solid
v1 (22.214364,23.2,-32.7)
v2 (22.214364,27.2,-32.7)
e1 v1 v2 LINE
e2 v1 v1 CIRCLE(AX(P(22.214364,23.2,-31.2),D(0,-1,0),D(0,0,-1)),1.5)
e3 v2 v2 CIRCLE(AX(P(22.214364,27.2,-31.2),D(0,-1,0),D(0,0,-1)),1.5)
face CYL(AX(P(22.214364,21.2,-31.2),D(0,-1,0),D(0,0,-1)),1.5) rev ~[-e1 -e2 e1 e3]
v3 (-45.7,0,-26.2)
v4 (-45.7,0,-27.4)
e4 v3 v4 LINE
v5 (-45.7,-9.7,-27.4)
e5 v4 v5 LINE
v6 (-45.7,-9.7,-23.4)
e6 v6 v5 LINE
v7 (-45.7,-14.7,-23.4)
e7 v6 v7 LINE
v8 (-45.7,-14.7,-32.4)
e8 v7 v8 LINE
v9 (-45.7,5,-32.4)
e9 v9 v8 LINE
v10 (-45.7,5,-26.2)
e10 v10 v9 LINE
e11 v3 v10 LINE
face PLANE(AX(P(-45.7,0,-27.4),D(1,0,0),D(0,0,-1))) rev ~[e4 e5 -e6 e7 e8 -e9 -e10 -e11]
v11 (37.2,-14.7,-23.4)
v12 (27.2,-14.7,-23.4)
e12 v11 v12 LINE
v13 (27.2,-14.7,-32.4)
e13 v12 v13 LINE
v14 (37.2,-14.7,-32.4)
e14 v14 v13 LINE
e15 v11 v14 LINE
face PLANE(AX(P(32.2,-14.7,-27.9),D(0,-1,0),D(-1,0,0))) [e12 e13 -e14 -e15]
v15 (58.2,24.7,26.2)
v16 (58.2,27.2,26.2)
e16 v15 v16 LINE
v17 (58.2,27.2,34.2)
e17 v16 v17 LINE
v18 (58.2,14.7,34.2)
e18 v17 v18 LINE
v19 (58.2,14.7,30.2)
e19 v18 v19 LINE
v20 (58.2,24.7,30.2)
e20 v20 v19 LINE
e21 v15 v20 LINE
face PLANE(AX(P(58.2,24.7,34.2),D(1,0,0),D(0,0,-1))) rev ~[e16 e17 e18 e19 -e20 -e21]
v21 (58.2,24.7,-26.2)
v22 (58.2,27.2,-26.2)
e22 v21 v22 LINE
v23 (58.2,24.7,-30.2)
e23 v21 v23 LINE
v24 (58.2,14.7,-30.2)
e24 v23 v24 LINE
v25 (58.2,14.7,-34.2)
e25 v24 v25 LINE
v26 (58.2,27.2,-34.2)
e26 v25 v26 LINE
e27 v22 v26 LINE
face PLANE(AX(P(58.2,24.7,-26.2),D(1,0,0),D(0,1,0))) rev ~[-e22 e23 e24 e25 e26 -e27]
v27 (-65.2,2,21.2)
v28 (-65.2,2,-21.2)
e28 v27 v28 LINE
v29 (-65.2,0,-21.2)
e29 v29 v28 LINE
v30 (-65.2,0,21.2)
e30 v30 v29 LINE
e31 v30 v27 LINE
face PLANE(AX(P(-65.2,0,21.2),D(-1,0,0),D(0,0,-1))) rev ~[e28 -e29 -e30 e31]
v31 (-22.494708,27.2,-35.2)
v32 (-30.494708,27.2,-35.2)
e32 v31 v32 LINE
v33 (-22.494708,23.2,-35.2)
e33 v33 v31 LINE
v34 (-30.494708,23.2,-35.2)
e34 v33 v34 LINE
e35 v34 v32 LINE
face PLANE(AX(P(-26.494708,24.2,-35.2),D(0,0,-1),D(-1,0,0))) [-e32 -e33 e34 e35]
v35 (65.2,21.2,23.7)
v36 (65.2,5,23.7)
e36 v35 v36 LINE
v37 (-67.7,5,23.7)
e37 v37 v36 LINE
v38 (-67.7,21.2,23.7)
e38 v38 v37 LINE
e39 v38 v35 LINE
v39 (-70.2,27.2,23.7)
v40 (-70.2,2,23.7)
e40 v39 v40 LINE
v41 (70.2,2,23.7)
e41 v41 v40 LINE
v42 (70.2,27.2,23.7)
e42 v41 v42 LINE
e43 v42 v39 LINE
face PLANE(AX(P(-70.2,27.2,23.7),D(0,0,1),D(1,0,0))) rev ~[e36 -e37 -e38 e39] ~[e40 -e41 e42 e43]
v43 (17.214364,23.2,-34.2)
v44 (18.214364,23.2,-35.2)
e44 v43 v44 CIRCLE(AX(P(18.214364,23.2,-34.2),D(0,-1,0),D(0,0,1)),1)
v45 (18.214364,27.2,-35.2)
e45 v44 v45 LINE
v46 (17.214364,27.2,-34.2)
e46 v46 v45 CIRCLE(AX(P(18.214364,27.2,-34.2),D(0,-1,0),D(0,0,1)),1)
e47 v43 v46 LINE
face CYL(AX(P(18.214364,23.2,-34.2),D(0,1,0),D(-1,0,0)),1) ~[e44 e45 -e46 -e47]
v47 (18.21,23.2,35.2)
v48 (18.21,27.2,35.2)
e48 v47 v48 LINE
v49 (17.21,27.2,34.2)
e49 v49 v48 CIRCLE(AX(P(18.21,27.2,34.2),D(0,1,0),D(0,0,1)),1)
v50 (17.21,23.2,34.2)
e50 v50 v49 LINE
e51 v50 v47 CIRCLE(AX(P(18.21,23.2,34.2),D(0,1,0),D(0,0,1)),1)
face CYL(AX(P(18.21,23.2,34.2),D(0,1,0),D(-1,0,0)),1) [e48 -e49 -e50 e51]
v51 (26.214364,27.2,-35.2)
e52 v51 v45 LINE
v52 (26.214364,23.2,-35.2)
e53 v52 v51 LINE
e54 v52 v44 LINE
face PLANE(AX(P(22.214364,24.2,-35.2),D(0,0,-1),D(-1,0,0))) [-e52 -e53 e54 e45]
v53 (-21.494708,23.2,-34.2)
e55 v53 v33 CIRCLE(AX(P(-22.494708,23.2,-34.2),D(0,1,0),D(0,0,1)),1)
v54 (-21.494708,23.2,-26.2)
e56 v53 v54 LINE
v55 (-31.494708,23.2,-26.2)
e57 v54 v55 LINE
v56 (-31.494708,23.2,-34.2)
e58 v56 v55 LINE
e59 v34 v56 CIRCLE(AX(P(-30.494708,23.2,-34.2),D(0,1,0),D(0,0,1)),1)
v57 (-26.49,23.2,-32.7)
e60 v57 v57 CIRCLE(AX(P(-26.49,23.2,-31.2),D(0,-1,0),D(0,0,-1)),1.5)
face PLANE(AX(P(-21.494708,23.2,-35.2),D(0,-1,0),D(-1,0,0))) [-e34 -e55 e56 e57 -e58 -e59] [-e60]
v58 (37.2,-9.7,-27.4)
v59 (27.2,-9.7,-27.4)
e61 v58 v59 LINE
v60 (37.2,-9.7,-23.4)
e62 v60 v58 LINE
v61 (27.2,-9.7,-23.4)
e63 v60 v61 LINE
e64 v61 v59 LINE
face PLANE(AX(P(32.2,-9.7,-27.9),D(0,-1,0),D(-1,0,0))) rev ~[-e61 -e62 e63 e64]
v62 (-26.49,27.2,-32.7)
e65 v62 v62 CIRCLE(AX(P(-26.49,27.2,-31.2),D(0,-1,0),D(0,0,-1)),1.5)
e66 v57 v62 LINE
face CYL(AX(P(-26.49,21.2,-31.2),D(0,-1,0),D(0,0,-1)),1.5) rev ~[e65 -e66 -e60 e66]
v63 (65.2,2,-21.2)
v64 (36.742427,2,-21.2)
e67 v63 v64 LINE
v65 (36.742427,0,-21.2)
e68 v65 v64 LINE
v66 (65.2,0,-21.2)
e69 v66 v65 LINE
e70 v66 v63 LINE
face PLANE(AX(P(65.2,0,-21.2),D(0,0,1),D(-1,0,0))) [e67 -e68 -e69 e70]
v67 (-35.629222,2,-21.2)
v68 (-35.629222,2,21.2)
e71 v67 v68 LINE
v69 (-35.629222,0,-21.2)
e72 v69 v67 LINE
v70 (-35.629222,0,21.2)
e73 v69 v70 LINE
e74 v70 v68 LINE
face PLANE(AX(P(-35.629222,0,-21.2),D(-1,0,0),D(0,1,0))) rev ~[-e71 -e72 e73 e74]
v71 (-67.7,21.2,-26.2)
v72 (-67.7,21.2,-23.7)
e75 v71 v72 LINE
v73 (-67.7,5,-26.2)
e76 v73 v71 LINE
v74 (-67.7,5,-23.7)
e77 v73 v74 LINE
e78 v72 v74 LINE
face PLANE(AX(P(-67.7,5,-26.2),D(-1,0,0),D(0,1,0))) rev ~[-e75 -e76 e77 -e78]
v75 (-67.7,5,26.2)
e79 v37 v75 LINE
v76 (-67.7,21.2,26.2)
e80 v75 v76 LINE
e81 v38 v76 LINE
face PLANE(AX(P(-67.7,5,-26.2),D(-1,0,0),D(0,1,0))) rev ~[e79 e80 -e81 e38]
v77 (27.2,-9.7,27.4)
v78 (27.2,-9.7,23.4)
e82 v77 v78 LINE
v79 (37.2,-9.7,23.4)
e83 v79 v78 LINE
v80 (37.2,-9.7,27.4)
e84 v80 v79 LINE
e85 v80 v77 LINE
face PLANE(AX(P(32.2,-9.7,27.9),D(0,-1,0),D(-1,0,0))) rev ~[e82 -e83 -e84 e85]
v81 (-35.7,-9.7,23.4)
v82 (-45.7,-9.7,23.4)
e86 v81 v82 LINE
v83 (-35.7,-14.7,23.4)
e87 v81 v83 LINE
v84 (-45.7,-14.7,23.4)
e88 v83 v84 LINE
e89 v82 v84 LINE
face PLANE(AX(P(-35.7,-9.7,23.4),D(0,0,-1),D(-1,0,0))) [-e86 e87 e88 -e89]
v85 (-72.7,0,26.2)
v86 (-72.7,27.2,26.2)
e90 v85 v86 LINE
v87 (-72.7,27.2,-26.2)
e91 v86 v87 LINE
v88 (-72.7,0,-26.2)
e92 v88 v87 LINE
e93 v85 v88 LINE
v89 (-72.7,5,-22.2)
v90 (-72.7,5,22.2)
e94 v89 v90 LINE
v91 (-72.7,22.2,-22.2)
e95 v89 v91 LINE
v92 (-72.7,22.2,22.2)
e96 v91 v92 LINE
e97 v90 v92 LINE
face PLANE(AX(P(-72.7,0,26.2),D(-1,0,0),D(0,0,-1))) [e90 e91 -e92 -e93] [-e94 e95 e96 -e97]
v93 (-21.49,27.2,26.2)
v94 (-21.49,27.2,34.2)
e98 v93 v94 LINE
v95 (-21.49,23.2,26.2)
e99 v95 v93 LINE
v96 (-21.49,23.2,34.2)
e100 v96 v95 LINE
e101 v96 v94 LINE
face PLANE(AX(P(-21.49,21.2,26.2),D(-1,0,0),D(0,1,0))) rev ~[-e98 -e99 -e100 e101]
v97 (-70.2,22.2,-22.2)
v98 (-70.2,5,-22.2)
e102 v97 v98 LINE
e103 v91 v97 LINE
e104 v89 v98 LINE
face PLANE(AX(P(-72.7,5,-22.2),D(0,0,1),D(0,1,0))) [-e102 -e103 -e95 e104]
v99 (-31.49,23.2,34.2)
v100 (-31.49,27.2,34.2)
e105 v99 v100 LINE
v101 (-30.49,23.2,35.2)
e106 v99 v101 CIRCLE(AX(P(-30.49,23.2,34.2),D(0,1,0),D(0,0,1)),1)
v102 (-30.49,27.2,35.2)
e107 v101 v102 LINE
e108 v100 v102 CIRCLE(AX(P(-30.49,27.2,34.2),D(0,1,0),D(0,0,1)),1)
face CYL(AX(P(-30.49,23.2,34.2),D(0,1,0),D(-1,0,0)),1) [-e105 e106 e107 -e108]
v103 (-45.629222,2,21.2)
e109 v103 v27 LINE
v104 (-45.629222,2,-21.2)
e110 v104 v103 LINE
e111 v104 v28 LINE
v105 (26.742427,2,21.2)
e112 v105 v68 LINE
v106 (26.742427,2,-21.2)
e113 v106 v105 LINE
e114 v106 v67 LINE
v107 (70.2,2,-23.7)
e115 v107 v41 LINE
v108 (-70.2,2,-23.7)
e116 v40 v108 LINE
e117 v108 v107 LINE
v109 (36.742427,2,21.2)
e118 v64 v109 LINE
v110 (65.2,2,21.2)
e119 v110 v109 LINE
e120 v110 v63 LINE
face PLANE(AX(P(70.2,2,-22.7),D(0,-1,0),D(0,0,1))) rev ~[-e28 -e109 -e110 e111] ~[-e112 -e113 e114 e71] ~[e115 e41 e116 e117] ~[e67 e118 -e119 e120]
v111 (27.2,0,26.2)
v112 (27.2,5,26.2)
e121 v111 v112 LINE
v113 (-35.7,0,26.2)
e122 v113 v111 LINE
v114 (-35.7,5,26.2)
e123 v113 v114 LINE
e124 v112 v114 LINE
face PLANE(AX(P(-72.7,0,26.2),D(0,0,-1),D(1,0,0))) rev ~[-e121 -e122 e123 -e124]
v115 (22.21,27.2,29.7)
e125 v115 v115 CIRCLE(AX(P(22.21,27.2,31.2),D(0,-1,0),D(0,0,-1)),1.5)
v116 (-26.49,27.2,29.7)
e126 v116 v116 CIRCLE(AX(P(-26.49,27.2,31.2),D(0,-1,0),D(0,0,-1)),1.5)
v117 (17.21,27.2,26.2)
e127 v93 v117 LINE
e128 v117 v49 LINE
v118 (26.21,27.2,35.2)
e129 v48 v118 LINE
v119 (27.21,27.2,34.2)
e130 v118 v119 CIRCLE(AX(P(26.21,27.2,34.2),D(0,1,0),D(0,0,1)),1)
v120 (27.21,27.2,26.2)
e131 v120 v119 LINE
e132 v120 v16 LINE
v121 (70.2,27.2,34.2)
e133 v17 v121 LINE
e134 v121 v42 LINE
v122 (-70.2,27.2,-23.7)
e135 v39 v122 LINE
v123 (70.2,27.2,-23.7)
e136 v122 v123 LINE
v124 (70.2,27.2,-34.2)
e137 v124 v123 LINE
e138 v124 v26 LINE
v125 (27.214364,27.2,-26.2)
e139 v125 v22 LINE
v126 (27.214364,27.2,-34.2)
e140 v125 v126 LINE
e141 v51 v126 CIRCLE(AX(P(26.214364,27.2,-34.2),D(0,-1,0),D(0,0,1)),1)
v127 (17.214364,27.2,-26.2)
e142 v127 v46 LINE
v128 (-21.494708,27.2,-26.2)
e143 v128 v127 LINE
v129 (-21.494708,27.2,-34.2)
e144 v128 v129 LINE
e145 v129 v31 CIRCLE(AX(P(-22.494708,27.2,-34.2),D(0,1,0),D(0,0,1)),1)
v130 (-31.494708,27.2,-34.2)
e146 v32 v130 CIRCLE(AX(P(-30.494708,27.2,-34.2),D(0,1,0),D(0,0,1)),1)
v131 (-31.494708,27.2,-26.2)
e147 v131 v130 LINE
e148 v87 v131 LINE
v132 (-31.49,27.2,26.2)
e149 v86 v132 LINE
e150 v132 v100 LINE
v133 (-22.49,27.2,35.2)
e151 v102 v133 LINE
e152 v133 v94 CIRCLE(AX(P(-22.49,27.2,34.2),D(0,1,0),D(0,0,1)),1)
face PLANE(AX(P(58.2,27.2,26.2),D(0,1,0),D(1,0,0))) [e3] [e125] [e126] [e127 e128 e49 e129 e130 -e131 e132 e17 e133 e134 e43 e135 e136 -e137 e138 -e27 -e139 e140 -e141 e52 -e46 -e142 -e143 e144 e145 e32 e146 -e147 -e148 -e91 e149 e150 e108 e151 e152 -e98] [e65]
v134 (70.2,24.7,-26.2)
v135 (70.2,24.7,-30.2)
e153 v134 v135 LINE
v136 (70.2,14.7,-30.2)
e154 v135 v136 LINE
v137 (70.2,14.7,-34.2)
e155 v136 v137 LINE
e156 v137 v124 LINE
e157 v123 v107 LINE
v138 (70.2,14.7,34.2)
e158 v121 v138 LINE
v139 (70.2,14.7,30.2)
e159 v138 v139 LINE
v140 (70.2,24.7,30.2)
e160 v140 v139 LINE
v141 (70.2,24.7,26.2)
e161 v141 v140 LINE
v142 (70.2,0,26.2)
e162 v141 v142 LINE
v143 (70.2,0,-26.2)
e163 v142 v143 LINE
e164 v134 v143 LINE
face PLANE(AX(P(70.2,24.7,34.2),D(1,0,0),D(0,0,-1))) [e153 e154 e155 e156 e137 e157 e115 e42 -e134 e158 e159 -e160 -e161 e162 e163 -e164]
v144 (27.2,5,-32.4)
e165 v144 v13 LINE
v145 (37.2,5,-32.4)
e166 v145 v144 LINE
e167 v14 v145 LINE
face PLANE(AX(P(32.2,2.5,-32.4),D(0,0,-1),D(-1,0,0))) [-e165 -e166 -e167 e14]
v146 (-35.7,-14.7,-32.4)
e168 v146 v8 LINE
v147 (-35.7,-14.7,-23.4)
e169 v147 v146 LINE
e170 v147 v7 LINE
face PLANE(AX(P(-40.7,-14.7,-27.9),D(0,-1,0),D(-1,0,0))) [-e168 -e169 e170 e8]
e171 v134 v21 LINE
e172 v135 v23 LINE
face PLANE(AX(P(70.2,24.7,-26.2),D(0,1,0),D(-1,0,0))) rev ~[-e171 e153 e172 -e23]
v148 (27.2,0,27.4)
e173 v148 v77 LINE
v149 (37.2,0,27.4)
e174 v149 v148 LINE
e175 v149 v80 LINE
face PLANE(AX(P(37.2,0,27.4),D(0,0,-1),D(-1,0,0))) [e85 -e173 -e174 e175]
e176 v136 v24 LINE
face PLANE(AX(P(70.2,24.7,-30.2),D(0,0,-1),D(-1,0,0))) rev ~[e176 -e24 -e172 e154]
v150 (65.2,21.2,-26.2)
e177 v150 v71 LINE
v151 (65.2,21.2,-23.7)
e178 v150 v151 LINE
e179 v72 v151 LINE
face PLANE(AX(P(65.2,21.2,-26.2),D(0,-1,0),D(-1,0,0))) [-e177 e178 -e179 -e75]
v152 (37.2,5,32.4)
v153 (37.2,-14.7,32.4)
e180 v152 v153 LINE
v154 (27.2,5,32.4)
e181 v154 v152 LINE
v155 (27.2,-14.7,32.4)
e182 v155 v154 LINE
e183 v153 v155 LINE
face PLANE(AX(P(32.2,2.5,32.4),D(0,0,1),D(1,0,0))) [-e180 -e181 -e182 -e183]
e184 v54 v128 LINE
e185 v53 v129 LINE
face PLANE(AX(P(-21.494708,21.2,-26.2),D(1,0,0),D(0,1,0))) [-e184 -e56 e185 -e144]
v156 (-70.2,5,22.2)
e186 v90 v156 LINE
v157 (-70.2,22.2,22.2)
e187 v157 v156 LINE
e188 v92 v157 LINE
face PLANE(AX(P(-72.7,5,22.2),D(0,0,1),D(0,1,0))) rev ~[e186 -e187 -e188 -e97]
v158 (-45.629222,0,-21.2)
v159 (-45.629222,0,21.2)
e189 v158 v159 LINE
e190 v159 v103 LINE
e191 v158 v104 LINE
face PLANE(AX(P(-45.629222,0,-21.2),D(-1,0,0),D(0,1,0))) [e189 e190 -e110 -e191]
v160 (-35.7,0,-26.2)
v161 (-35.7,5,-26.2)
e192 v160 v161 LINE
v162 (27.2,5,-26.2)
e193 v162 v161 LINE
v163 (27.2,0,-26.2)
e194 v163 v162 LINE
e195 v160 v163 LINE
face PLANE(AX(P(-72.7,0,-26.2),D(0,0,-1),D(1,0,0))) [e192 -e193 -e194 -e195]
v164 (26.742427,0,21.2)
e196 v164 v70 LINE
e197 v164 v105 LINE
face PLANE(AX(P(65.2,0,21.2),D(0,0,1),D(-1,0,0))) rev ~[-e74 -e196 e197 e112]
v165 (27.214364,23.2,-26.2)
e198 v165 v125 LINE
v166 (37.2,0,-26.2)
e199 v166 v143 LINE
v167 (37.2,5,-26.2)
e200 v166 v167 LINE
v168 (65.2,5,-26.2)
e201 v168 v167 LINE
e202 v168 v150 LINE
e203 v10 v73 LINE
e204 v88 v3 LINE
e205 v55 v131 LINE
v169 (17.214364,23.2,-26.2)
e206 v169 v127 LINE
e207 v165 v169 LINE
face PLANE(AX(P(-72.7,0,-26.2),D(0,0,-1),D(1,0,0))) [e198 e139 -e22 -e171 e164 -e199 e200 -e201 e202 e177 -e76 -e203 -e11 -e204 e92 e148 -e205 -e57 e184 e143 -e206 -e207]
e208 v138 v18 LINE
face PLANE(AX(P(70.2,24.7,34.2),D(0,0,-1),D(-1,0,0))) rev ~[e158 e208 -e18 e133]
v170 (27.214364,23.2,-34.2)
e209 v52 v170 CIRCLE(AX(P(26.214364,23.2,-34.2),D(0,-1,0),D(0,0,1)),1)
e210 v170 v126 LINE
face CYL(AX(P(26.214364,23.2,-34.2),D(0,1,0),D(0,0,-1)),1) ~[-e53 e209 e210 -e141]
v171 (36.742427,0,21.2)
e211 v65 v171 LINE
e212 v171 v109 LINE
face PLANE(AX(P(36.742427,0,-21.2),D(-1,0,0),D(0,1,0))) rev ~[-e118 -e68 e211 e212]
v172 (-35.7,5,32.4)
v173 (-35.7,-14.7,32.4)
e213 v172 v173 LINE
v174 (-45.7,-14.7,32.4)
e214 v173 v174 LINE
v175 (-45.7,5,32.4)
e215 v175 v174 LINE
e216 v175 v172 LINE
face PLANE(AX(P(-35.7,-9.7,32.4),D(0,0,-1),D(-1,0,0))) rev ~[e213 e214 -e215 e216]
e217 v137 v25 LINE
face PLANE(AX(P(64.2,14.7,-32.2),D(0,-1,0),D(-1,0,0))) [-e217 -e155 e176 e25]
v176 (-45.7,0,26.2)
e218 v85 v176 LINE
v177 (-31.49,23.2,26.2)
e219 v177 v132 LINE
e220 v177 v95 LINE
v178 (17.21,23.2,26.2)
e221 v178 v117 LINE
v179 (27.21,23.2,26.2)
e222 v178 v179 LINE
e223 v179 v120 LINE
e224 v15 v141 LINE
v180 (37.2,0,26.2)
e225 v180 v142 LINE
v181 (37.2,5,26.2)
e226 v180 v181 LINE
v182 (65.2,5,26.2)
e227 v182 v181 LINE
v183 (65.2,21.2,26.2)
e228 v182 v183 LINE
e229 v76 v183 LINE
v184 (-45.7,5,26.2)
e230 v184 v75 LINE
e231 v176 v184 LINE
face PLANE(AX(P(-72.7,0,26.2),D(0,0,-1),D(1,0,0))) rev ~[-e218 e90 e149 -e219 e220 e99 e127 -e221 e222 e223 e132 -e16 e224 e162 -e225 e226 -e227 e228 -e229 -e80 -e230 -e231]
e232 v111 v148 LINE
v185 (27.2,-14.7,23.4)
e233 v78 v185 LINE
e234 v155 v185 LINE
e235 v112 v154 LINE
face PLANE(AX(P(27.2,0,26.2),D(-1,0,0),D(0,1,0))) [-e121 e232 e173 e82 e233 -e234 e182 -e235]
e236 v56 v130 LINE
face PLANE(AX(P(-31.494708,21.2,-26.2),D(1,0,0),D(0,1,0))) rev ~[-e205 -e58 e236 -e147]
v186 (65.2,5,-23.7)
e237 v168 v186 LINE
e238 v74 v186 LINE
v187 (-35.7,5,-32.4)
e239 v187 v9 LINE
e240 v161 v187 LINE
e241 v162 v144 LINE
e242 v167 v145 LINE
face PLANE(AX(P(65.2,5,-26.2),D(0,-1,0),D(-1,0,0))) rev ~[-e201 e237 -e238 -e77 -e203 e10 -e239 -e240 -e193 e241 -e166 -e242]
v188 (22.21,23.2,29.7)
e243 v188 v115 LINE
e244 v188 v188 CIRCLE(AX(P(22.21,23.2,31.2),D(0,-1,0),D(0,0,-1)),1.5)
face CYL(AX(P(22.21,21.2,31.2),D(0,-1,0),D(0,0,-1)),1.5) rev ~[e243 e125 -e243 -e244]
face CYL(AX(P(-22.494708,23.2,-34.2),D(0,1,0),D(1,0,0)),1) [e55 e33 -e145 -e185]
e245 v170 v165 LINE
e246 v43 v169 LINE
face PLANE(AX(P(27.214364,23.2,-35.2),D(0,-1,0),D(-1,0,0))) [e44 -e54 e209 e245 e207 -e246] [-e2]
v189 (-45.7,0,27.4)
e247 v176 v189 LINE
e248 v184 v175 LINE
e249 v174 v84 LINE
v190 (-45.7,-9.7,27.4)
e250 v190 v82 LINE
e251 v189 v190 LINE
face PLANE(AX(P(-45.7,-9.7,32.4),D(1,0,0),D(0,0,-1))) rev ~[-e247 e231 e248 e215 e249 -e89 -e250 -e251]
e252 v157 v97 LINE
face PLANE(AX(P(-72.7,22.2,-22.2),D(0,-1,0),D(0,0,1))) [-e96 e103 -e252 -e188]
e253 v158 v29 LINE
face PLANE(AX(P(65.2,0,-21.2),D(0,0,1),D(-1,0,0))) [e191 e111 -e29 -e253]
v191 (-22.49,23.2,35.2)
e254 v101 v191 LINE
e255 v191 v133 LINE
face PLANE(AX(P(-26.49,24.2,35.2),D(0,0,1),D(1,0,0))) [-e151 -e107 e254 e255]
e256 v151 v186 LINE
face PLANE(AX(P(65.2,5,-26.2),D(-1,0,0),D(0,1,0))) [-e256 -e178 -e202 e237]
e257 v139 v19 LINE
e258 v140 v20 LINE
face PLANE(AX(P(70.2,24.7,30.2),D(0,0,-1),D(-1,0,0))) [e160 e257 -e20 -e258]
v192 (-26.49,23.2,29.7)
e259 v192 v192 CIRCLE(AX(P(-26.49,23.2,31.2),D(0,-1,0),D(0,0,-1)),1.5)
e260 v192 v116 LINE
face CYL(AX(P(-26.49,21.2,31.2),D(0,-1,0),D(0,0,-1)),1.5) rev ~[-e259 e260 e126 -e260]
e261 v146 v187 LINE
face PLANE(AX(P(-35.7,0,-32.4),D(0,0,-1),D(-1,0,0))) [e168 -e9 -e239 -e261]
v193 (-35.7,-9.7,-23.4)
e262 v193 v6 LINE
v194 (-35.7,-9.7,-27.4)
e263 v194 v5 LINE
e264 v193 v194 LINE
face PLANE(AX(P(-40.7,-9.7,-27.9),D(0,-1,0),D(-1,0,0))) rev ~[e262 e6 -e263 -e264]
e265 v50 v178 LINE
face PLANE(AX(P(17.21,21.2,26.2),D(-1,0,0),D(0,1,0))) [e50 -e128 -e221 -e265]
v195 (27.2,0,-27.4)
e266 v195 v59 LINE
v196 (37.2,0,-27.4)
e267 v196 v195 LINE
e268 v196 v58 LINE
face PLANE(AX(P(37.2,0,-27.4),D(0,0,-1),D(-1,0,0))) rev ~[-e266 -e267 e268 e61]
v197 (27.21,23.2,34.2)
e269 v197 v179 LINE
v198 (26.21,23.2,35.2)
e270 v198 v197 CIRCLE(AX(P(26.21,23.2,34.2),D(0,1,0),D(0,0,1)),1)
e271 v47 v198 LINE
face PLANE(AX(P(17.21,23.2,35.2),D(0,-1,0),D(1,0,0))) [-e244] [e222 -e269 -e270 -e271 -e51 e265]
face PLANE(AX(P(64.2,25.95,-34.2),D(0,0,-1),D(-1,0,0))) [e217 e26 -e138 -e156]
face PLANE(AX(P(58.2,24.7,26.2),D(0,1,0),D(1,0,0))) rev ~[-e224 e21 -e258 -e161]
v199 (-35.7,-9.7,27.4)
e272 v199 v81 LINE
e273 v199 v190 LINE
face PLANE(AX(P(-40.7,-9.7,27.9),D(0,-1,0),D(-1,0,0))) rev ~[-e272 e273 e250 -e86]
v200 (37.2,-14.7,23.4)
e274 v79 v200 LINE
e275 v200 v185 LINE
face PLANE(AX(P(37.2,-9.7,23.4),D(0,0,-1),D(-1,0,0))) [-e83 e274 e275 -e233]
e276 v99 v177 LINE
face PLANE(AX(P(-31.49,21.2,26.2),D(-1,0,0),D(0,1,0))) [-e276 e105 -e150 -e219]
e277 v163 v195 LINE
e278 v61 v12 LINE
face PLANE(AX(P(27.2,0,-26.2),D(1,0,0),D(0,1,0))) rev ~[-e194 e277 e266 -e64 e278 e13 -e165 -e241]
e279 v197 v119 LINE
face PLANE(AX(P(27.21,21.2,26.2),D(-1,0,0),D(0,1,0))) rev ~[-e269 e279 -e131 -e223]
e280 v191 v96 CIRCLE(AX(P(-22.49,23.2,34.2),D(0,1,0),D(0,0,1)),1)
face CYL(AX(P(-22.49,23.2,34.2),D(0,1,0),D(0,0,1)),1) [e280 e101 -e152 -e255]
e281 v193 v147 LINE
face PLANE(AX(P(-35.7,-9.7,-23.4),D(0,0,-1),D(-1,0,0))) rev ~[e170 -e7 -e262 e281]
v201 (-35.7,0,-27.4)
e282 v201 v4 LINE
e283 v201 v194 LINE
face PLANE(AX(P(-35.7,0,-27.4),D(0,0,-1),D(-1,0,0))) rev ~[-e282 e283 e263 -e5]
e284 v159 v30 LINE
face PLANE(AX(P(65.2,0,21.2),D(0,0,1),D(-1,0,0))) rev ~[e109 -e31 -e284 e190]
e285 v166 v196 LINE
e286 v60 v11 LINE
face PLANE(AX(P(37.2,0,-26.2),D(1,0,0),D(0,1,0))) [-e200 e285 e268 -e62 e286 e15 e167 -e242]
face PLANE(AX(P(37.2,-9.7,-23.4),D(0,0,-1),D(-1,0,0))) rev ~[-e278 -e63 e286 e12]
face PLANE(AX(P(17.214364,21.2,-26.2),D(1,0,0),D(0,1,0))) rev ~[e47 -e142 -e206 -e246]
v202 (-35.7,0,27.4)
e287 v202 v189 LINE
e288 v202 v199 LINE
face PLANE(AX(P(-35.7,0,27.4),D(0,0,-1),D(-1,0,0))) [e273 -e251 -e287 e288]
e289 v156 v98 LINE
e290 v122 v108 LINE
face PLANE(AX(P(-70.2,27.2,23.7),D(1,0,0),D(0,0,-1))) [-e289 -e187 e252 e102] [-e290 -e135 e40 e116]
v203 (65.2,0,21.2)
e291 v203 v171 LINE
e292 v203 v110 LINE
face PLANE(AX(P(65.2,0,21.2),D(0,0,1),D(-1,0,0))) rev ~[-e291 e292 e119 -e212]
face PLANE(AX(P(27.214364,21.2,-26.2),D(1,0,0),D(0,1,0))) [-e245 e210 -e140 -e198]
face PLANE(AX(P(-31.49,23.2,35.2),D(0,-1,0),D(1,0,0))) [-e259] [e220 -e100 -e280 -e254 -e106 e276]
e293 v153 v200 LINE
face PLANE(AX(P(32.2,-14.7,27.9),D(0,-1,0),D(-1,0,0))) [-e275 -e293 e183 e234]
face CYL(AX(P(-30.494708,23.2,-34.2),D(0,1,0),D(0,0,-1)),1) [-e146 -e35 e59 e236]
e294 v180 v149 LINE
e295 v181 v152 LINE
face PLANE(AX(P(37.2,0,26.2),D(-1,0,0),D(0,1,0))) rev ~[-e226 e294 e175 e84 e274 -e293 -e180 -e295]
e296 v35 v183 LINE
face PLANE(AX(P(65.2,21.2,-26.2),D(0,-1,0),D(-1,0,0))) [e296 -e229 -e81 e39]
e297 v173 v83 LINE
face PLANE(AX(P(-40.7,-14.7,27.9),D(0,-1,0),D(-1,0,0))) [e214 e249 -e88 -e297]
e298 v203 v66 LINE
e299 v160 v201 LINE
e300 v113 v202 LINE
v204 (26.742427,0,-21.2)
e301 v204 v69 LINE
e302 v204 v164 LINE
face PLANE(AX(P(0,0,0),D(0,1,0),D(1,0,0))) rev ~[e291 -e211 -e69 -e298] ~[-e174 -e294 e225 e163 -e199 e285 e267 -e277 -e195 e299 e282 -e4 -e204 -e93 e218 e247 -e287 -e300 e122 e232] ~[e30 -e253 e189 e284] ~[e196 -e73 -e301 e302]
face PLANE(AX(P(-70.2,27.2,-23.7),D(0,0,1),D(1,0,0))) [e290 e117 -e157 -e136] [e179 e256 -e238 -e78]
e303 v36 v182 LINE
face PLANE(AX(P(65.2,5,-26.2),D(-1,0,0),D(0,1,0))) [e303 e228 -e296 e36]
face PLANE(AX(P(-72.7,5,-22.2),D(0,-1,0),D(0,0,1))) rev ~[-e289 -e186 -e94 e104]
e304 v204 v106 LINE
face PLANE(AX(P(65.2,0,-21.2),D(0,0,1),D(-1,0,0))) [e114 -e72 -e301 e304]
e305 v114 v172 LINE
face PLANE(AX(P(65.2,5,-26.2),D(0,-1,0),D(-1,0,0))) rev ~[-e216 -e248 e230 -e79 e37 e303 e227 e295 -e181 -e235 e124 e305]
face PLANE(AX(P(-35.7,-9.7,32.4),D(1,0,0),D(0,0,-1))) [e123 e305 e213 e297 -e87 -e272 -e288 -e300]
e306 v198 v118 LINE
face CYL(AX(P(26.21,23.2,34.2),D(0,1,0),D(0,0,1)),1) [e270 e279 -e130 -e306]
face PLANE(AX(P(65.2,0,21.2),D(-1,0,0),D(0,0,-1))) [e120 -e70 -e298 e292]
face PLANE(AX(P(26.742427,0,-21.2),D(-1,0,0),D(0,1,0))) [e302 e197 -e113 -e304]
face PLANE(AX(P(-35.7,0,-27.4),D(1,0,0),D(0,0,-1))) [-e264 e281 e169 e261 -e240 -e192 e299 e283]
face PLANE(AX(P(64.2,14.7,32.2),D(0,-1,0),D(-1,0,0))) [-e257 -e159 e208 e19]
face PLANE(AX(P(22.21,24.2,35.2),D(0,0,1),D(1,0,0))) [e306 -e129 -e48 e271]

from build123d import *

# Parameters (mm, degrees)
SKETCH1_W            = 145.4
SKETCH1_H            = 52.4
BOSS_EXTRUDE1_DEPTH  = 27.2
SKETCH2_W            = 140.4
SKETCH2_H            = 47.4
CUT_EXTRUDE1_DEPTH   = 25.2
SKETCH3_W            = 46.4
SKETCH3_H            = 25.2
CUT_EXTRUDE2_DEPTH   = 25.2
SKETCH8_W            = 2.5
SKETCH8_H            = 52.4
CUT_EXTRUDE5_DEPTH   = 43
SKETCH9_W            = 44.4
SKETCH9_H            = 17.2
CUT_EXTRUDE6_DEPTH   = 43
SKETCH11_W           = 132.9
SKETCH11_H           = 16.2
CUT_EXTRUDE7_DEPTH   = 59
SKETCH12_W           = 130.4
SKETCH12_H           = 42.4
CUT_EXTRUDE8_DEPTH   = 10
SKETCH16_W           = 12
SKETCH16_H           = 2.5
BOSS_EXTRUDE4_DEPTH  = 8
SKETCH18_W           = 12
SKETCH18_H           = 2.5
BOSS_EXTRUDE6_DEPTH  = 8
SKETCH24_W           = 10
SKETCH24_H           = 5
BOSS_EXTRUDE12_DEPTH = 6.2
SKETCH25_W           = 10
SKETCH25_H           = 5
BOSS_EXTRUDE13_DEPTH = 6.2
SKETCH26_W           = 10
SKETCH26_H           = 5
BOSS_EXTRUDE14_DEPTH = 9.7
SKETCH27_W           = 10
SKETCH27_H           = 9
BOSS_EXTRUDE15_DEPTH = 5
SKETCH28_W           = 10
SKETCH28_H           = 2
BOSS_EXTRUDE16_DEPTH = 42.4
SKETCH29_W           = 10
SKETCH29_H           = 2
BOSS_EXTRUDE17_DEPTH = 42.4
SKETCH30_W           = 12
SKETCH30_H           = 4
BOSS_EXTRUDE18_DEPTH = 10
SKETCH35_W           = 10
SKETCH35_H           = 6
BOSS_EXTRUDE22_DEPTH = 9
SKETCH36_W           = 10
SKETCH36_H           = 6
BOSS_EXTRUDE23_DEPTH = 9
SKETCH37_R           = 1.5
CUT_EXTRUDE10_DEPTH  = 9
SKETCH38_W           = 10
SKETCH38_H           = 2
CUT_EXTRUDE11_DEPTH  = 9
SKETCH39_W           = 10
SKETCH39_H           = 2
CUT_EXTRUDE12_DEPTH  = 9
SKETCH40_W           = 10
SKETCH40_H           = 2
CUT_EXTRUDE13_DEPTH  = 9
FILLET1_R            = 1


with BuildPart() as part:
    # Sketch1 → Boss-Extrude1 (new body)
    with BuildSketch(Plane(origin=(0, 0, 0), x_dir=(1, 0, 0), z_dir=(0, 1, 0))):
        Rectangle(SKETCH1_W, SKETCH1_H)
    extrude(amount=BOSS_EXTRUDE1_DEPTH)

    # Sketch2 → Cut-Extrude1 (cut)
    with BuildSketch(Plane(origin=(0, 27.2, 0), x_dir=(1, 0, 0), z_dir=(0, 1, 0))):
        Rectangle(SKETCH2_W, SKETCH2_H)
    extrude(amount=-CUT_EXTRUDE1_DEPTH, mode=Mode.SUBTRACT)

    # Sketch3 → Cut-Extrude2 (cut)
    with BuildSketch(Plane.ZY.offset(-70.2)):
        with Locations((0.5, 14.6)):
            Rectangle(SKETCH3_W, SKETCH3_H)
    extrude(amount=-CUT_EXTRUDE2_DEPTH, mode=Mode.SUBTRACT)

    # Sketch8 → Cut-Extrude5 (cut)
    with BuildSketch(Plane(origin=(0, 27.2, 0), x_dir=(1, 0, 0), z_dir=(0, 1, 0))):
        with Locations((71.45, 0)):
            Rectangle(SKETCH8_W, SKETCH8_H)
    extrude(amount=-CUT_EXTRUDE5_DEPTH, mode=Mode.SUBTRACT)

    # Sketch9 → Cut-Extrude6 (cut)
    with BuildSketch(Plane.ZY.offset(72.7)):
        with Locations((0, 13.6)):
            Rectangle(SKETCH9_W, SKETCH9_H)
    extrude(amount=-CUT_EXTRUDE6_DEPTH, mode=Mode.SUBTRACT)

    # Sketch11 → Cut-Extrude7 (cut)
    with BuildSketch(Plane(origin=(0, 0, -26.2), x_dir=(-1, 0, 0), z_dir=(0, 0, -1))):
        with Locations((1.25, 13.1)):
            Rectangle(SKETCH11_W, SKETCH11_H)
    extrude(amount=-CUT_EXTRUDE7_DEPTH, mode=Mode.SUBTRACT)

    # Sketch12 → Cut-Extrude8 (cut)
    with BuildSketch(Plane(origin=(0, 0, 0), x_dir=(-1, 0, 0), z_dir=(0, -1, 0))):
        Rectangle(SKETCH12_W, SKETCH12_H)
    extrude(amount=-CUT_EXTRUDE8_DEPTH, mode=Mode.SUBTRACT)

    # Sketch16 → Boss-Extrude4 (add)
    with BuildSketch(Plane(origin=(0, 0, -26.2), x_dir=(-1, 0, 0), z_dir=(0, 0, -1))):
        with Locations((-64.2, 25.95)):
            Rectangle(SKETCH16_W, SKETCH16_H)
    extrude(amount=BOSS_EXTRUDE4_DEPTH)

    # Sketch18 → Boss-Extrude6 (add)
    with BuildSketch(Plane.XY.offset(26.2)):
        with Locations((64.2, 25.95)):
            Rectangle(SKETCH18_W, SKETCH18_H)
    extrude(amount=BOSS_EXTRUDE6_DEPTH)

    # Sketch24 → Boss-Extrude12 (add)
    with BuildSketch(Plane.XY.offset(26.2)):
        with Locations((-40.7, 2.5)):
            Rectangle(SKETCH24_W, SKETCH24_H)
        with Locations((32.2, 2.5)):
            Rectangle(SKETCH24_W, SKETCH24_H)
    extrude(amount=BOSS_EXTRUDE12_DEPTH)

    # Sketch25 → Boss-Extrude13 (add)
    with BuildSketch(Plane(origin=(0, 0, -26.2), x_dir=(-1, 0, 0), z_dir=(0, 0, -1))):
        with Locations((40.7, 2.5)):
            Rectangle(SKETCH25_W, SKETCH25_H)
        with Locations((-32.2, 2.5)):
            Rectangle(SKETCH25_W, SKETCH25_H)
    extrude(amount=BOSS_EXTRUDE13_DEPTH)

    # Sketch26 → Boss-Extrude14 (add)
    with BuildSketch(Plane(origin=(0, 0, 0), x_dir=(-1, 0, 0), z_dir=(0, -1, 0))):
        with Locations((40.7, 29.9)):
            Rectangle(SKETCH26_W, SKETCH26_H)
        with Locations((40.7, -29.9)):
            Rectangle(SKETCH26_W, SKETCH26_H)
        with Locations((-32.2, -29.9)):
            Rectangle(SKETCH26_W, SKETCH26_H)
        with Locations((-32.2, 29.9)):
            Rectangle(SKETCH26_W, SKETCH26_H)
    extrude(amount=BOSS_EXTRUDE14_DEPTH)

    # Sketch27 → Boss-Extrude15 (add)
    with BuildSketch(Plane(origin=(0, -9.7, 0), x_dir=(-1, 0, 0), z_dir=(0, -1, 0))):
        with Locations((40.7, -27.9)):
            Rectangle(SKETCH27_W, SKETCH27_H)
        with Locations((-32.2, -27.9)):
            Rectangle(SKETCH27_W, SKETCH27_H)
        with Locations((40.7, 27.9)):
            Rectangle(SKETCH27_W, SKETCH27_H)
        with Locations((-32.2, 27.9)):
            Rectangle(SKETCH27_W, SKETCH27_H)
    extrude(amount=BOSS_EXTRUDE15_DEPTH)

    # Sketch28 → Boss-Extrude16 (add)
    with BuildSketch(Plane.XY.offset(-21.2)):
        with Locations((-40.62922207, 1)):
            Rectangle(SKETCH28_W, SKETCH28_H)
    extrude(amount=BOSS_EXTRUDE16_DEPTH)

    # Sketch29 → Boss-Extrude17 (add)
    with BuildSketch(Plane.XY.offset(-21.2)):
        with Locations((31.742427041, 1)):
            Rectangle(SKETCH29_W, SKETCH29_H)
    extrude(amount=BOSS_EXTRUDE17_DEPTH)

    # Sketch30 → Boss-Extrude18 (add)
    with BuildSketch(Plane(origin=(0, 24.7, 0), x_dir=(-1, 0, 0), z_dir=(0, -1, 0))):
        with Locations((-64.2, -32.2)):
            Rectangle(SKETCH30_W, SKETCH30_H)
        with Locations((-64.2, 32.2)):
            Rectangle(SKETCH30_W, SKETCH30_H)
    extrude(amount=BOSS_EXTRUDE18_DEPTH)

    # Sketch35 → Boss-Extrude22 (add)
    with BuildSketch(Plane(origin=(0, 0, -26.2), x_dir=(-1, 0, 0), z_dir=(0, 0, -1))):
        with Locations((-22.214363523, 24.2)):
            Rectangle(SKETCH35_W, SKETCH35_H)
        with Locations((26.494707746, 24.2)):
            Rectangle(SKETCH35_W, SKETCH35_H)
    extrude(amount=BOSS_EXTRUDE22_DEPTH)

    # Sketch36 → Boss-Extrude23 (add)
    with BuildSketch(Plane.XY.offset(26.2)):
        with Locations((-26.49, 24.2)):
            Rectangle(SKETCH36_W, SKETCH36_H)
        with Locations((22.21, 24.2)):
            Rectangle(SKETCH36_W, SKETCH36_H)
    extrude(amount=BOSS_EXTRUDE23_DEPTH)

    # Sketch37 → Cut-Extrude10 (cut)
    with BuildSketch(Plane.XZ.offset(-21.2)):
        with Locations(Location((-26.49, 31.2, 0), (0, 0, 270))):
            Circle(SKETCH37_R)
        with Locations(Location((22.21, 31.2, 0), (0, 0, 270))):
            Circle(SKETCH37_R)
        with Locations(Location((-26.49, -31.2, 0), (0, 0, 270))):
            Circle(SKETCH37_R)
        with Locations(Location((22.214363523, -31.2, 0), (0, 0, 270))):
            Circle(SKETCH37_R)
    extrude(amount=-CUT_EXTRUDE10_DEPTH, mode=Mode.SUBTRACT)

    # Sketch38 → Cut-Extrude11 (cut)
    with BuildSketch(Plane.XY.offset(35.2)):
        with Locations((-26.49, 22.2)):
            Rectangle(SKETCH38_W, SKETCH38_H)
    extrude(amount=-CUT_EXTRUDE11_DEPTH, mode=Mode.SUBTRACT)

    # Sketch39 → Cut-Extrude12 (cut)
    with BuildSketch(Plane.XY.offset(35.2)):
        with Locations((22.21, 22.2)):
            Rectangle(SKETCH39_W, SKETCH39_H)
    extrude(amount=-CUT_EXTRUDE12_DEPTH, mode=Mode.SUBTRACT)

    # Sketch40 → Cut-Extrude13 (cut)
    with BuildSketch(Plane(origin=(0, 0, -35.2), x_dir=(-1, 0, 0), z_dir=(0, 0, -1))):
        with Locations((-22.214363523, 22.2)):
            Rectangle(SKETCH40_W, SKETCH40_H)
        with Locations((26.494707746, 22.2)):
            Rectangle(SKETCH40_W, SKETCH40_H)
    extrude(amount=-CUT_EXTRUDE13_DEPTH, mode=Mode.SUBTRACT)

    # Fillet1
    fillet1_edges = [part.edges().sort_by_distance(p)[0] for p in [
        (27.214363523, 25.2, -35.2),
        (-21.494707746, 25.2, -35.2),
        (-31.49, 25.2, 35.2),
        (17.21, 25.2, 35.2),
        (-21.49, 25.2, 35.2),
        (27.21, 25.2, 35.2),
        (-31.494707746, 25.2, -35.2),
        (17.214363523, 25.2, -35.2),
    ]]
    fillet(fillet1_edges, radius=FILLET1_R)


solid = part.part
